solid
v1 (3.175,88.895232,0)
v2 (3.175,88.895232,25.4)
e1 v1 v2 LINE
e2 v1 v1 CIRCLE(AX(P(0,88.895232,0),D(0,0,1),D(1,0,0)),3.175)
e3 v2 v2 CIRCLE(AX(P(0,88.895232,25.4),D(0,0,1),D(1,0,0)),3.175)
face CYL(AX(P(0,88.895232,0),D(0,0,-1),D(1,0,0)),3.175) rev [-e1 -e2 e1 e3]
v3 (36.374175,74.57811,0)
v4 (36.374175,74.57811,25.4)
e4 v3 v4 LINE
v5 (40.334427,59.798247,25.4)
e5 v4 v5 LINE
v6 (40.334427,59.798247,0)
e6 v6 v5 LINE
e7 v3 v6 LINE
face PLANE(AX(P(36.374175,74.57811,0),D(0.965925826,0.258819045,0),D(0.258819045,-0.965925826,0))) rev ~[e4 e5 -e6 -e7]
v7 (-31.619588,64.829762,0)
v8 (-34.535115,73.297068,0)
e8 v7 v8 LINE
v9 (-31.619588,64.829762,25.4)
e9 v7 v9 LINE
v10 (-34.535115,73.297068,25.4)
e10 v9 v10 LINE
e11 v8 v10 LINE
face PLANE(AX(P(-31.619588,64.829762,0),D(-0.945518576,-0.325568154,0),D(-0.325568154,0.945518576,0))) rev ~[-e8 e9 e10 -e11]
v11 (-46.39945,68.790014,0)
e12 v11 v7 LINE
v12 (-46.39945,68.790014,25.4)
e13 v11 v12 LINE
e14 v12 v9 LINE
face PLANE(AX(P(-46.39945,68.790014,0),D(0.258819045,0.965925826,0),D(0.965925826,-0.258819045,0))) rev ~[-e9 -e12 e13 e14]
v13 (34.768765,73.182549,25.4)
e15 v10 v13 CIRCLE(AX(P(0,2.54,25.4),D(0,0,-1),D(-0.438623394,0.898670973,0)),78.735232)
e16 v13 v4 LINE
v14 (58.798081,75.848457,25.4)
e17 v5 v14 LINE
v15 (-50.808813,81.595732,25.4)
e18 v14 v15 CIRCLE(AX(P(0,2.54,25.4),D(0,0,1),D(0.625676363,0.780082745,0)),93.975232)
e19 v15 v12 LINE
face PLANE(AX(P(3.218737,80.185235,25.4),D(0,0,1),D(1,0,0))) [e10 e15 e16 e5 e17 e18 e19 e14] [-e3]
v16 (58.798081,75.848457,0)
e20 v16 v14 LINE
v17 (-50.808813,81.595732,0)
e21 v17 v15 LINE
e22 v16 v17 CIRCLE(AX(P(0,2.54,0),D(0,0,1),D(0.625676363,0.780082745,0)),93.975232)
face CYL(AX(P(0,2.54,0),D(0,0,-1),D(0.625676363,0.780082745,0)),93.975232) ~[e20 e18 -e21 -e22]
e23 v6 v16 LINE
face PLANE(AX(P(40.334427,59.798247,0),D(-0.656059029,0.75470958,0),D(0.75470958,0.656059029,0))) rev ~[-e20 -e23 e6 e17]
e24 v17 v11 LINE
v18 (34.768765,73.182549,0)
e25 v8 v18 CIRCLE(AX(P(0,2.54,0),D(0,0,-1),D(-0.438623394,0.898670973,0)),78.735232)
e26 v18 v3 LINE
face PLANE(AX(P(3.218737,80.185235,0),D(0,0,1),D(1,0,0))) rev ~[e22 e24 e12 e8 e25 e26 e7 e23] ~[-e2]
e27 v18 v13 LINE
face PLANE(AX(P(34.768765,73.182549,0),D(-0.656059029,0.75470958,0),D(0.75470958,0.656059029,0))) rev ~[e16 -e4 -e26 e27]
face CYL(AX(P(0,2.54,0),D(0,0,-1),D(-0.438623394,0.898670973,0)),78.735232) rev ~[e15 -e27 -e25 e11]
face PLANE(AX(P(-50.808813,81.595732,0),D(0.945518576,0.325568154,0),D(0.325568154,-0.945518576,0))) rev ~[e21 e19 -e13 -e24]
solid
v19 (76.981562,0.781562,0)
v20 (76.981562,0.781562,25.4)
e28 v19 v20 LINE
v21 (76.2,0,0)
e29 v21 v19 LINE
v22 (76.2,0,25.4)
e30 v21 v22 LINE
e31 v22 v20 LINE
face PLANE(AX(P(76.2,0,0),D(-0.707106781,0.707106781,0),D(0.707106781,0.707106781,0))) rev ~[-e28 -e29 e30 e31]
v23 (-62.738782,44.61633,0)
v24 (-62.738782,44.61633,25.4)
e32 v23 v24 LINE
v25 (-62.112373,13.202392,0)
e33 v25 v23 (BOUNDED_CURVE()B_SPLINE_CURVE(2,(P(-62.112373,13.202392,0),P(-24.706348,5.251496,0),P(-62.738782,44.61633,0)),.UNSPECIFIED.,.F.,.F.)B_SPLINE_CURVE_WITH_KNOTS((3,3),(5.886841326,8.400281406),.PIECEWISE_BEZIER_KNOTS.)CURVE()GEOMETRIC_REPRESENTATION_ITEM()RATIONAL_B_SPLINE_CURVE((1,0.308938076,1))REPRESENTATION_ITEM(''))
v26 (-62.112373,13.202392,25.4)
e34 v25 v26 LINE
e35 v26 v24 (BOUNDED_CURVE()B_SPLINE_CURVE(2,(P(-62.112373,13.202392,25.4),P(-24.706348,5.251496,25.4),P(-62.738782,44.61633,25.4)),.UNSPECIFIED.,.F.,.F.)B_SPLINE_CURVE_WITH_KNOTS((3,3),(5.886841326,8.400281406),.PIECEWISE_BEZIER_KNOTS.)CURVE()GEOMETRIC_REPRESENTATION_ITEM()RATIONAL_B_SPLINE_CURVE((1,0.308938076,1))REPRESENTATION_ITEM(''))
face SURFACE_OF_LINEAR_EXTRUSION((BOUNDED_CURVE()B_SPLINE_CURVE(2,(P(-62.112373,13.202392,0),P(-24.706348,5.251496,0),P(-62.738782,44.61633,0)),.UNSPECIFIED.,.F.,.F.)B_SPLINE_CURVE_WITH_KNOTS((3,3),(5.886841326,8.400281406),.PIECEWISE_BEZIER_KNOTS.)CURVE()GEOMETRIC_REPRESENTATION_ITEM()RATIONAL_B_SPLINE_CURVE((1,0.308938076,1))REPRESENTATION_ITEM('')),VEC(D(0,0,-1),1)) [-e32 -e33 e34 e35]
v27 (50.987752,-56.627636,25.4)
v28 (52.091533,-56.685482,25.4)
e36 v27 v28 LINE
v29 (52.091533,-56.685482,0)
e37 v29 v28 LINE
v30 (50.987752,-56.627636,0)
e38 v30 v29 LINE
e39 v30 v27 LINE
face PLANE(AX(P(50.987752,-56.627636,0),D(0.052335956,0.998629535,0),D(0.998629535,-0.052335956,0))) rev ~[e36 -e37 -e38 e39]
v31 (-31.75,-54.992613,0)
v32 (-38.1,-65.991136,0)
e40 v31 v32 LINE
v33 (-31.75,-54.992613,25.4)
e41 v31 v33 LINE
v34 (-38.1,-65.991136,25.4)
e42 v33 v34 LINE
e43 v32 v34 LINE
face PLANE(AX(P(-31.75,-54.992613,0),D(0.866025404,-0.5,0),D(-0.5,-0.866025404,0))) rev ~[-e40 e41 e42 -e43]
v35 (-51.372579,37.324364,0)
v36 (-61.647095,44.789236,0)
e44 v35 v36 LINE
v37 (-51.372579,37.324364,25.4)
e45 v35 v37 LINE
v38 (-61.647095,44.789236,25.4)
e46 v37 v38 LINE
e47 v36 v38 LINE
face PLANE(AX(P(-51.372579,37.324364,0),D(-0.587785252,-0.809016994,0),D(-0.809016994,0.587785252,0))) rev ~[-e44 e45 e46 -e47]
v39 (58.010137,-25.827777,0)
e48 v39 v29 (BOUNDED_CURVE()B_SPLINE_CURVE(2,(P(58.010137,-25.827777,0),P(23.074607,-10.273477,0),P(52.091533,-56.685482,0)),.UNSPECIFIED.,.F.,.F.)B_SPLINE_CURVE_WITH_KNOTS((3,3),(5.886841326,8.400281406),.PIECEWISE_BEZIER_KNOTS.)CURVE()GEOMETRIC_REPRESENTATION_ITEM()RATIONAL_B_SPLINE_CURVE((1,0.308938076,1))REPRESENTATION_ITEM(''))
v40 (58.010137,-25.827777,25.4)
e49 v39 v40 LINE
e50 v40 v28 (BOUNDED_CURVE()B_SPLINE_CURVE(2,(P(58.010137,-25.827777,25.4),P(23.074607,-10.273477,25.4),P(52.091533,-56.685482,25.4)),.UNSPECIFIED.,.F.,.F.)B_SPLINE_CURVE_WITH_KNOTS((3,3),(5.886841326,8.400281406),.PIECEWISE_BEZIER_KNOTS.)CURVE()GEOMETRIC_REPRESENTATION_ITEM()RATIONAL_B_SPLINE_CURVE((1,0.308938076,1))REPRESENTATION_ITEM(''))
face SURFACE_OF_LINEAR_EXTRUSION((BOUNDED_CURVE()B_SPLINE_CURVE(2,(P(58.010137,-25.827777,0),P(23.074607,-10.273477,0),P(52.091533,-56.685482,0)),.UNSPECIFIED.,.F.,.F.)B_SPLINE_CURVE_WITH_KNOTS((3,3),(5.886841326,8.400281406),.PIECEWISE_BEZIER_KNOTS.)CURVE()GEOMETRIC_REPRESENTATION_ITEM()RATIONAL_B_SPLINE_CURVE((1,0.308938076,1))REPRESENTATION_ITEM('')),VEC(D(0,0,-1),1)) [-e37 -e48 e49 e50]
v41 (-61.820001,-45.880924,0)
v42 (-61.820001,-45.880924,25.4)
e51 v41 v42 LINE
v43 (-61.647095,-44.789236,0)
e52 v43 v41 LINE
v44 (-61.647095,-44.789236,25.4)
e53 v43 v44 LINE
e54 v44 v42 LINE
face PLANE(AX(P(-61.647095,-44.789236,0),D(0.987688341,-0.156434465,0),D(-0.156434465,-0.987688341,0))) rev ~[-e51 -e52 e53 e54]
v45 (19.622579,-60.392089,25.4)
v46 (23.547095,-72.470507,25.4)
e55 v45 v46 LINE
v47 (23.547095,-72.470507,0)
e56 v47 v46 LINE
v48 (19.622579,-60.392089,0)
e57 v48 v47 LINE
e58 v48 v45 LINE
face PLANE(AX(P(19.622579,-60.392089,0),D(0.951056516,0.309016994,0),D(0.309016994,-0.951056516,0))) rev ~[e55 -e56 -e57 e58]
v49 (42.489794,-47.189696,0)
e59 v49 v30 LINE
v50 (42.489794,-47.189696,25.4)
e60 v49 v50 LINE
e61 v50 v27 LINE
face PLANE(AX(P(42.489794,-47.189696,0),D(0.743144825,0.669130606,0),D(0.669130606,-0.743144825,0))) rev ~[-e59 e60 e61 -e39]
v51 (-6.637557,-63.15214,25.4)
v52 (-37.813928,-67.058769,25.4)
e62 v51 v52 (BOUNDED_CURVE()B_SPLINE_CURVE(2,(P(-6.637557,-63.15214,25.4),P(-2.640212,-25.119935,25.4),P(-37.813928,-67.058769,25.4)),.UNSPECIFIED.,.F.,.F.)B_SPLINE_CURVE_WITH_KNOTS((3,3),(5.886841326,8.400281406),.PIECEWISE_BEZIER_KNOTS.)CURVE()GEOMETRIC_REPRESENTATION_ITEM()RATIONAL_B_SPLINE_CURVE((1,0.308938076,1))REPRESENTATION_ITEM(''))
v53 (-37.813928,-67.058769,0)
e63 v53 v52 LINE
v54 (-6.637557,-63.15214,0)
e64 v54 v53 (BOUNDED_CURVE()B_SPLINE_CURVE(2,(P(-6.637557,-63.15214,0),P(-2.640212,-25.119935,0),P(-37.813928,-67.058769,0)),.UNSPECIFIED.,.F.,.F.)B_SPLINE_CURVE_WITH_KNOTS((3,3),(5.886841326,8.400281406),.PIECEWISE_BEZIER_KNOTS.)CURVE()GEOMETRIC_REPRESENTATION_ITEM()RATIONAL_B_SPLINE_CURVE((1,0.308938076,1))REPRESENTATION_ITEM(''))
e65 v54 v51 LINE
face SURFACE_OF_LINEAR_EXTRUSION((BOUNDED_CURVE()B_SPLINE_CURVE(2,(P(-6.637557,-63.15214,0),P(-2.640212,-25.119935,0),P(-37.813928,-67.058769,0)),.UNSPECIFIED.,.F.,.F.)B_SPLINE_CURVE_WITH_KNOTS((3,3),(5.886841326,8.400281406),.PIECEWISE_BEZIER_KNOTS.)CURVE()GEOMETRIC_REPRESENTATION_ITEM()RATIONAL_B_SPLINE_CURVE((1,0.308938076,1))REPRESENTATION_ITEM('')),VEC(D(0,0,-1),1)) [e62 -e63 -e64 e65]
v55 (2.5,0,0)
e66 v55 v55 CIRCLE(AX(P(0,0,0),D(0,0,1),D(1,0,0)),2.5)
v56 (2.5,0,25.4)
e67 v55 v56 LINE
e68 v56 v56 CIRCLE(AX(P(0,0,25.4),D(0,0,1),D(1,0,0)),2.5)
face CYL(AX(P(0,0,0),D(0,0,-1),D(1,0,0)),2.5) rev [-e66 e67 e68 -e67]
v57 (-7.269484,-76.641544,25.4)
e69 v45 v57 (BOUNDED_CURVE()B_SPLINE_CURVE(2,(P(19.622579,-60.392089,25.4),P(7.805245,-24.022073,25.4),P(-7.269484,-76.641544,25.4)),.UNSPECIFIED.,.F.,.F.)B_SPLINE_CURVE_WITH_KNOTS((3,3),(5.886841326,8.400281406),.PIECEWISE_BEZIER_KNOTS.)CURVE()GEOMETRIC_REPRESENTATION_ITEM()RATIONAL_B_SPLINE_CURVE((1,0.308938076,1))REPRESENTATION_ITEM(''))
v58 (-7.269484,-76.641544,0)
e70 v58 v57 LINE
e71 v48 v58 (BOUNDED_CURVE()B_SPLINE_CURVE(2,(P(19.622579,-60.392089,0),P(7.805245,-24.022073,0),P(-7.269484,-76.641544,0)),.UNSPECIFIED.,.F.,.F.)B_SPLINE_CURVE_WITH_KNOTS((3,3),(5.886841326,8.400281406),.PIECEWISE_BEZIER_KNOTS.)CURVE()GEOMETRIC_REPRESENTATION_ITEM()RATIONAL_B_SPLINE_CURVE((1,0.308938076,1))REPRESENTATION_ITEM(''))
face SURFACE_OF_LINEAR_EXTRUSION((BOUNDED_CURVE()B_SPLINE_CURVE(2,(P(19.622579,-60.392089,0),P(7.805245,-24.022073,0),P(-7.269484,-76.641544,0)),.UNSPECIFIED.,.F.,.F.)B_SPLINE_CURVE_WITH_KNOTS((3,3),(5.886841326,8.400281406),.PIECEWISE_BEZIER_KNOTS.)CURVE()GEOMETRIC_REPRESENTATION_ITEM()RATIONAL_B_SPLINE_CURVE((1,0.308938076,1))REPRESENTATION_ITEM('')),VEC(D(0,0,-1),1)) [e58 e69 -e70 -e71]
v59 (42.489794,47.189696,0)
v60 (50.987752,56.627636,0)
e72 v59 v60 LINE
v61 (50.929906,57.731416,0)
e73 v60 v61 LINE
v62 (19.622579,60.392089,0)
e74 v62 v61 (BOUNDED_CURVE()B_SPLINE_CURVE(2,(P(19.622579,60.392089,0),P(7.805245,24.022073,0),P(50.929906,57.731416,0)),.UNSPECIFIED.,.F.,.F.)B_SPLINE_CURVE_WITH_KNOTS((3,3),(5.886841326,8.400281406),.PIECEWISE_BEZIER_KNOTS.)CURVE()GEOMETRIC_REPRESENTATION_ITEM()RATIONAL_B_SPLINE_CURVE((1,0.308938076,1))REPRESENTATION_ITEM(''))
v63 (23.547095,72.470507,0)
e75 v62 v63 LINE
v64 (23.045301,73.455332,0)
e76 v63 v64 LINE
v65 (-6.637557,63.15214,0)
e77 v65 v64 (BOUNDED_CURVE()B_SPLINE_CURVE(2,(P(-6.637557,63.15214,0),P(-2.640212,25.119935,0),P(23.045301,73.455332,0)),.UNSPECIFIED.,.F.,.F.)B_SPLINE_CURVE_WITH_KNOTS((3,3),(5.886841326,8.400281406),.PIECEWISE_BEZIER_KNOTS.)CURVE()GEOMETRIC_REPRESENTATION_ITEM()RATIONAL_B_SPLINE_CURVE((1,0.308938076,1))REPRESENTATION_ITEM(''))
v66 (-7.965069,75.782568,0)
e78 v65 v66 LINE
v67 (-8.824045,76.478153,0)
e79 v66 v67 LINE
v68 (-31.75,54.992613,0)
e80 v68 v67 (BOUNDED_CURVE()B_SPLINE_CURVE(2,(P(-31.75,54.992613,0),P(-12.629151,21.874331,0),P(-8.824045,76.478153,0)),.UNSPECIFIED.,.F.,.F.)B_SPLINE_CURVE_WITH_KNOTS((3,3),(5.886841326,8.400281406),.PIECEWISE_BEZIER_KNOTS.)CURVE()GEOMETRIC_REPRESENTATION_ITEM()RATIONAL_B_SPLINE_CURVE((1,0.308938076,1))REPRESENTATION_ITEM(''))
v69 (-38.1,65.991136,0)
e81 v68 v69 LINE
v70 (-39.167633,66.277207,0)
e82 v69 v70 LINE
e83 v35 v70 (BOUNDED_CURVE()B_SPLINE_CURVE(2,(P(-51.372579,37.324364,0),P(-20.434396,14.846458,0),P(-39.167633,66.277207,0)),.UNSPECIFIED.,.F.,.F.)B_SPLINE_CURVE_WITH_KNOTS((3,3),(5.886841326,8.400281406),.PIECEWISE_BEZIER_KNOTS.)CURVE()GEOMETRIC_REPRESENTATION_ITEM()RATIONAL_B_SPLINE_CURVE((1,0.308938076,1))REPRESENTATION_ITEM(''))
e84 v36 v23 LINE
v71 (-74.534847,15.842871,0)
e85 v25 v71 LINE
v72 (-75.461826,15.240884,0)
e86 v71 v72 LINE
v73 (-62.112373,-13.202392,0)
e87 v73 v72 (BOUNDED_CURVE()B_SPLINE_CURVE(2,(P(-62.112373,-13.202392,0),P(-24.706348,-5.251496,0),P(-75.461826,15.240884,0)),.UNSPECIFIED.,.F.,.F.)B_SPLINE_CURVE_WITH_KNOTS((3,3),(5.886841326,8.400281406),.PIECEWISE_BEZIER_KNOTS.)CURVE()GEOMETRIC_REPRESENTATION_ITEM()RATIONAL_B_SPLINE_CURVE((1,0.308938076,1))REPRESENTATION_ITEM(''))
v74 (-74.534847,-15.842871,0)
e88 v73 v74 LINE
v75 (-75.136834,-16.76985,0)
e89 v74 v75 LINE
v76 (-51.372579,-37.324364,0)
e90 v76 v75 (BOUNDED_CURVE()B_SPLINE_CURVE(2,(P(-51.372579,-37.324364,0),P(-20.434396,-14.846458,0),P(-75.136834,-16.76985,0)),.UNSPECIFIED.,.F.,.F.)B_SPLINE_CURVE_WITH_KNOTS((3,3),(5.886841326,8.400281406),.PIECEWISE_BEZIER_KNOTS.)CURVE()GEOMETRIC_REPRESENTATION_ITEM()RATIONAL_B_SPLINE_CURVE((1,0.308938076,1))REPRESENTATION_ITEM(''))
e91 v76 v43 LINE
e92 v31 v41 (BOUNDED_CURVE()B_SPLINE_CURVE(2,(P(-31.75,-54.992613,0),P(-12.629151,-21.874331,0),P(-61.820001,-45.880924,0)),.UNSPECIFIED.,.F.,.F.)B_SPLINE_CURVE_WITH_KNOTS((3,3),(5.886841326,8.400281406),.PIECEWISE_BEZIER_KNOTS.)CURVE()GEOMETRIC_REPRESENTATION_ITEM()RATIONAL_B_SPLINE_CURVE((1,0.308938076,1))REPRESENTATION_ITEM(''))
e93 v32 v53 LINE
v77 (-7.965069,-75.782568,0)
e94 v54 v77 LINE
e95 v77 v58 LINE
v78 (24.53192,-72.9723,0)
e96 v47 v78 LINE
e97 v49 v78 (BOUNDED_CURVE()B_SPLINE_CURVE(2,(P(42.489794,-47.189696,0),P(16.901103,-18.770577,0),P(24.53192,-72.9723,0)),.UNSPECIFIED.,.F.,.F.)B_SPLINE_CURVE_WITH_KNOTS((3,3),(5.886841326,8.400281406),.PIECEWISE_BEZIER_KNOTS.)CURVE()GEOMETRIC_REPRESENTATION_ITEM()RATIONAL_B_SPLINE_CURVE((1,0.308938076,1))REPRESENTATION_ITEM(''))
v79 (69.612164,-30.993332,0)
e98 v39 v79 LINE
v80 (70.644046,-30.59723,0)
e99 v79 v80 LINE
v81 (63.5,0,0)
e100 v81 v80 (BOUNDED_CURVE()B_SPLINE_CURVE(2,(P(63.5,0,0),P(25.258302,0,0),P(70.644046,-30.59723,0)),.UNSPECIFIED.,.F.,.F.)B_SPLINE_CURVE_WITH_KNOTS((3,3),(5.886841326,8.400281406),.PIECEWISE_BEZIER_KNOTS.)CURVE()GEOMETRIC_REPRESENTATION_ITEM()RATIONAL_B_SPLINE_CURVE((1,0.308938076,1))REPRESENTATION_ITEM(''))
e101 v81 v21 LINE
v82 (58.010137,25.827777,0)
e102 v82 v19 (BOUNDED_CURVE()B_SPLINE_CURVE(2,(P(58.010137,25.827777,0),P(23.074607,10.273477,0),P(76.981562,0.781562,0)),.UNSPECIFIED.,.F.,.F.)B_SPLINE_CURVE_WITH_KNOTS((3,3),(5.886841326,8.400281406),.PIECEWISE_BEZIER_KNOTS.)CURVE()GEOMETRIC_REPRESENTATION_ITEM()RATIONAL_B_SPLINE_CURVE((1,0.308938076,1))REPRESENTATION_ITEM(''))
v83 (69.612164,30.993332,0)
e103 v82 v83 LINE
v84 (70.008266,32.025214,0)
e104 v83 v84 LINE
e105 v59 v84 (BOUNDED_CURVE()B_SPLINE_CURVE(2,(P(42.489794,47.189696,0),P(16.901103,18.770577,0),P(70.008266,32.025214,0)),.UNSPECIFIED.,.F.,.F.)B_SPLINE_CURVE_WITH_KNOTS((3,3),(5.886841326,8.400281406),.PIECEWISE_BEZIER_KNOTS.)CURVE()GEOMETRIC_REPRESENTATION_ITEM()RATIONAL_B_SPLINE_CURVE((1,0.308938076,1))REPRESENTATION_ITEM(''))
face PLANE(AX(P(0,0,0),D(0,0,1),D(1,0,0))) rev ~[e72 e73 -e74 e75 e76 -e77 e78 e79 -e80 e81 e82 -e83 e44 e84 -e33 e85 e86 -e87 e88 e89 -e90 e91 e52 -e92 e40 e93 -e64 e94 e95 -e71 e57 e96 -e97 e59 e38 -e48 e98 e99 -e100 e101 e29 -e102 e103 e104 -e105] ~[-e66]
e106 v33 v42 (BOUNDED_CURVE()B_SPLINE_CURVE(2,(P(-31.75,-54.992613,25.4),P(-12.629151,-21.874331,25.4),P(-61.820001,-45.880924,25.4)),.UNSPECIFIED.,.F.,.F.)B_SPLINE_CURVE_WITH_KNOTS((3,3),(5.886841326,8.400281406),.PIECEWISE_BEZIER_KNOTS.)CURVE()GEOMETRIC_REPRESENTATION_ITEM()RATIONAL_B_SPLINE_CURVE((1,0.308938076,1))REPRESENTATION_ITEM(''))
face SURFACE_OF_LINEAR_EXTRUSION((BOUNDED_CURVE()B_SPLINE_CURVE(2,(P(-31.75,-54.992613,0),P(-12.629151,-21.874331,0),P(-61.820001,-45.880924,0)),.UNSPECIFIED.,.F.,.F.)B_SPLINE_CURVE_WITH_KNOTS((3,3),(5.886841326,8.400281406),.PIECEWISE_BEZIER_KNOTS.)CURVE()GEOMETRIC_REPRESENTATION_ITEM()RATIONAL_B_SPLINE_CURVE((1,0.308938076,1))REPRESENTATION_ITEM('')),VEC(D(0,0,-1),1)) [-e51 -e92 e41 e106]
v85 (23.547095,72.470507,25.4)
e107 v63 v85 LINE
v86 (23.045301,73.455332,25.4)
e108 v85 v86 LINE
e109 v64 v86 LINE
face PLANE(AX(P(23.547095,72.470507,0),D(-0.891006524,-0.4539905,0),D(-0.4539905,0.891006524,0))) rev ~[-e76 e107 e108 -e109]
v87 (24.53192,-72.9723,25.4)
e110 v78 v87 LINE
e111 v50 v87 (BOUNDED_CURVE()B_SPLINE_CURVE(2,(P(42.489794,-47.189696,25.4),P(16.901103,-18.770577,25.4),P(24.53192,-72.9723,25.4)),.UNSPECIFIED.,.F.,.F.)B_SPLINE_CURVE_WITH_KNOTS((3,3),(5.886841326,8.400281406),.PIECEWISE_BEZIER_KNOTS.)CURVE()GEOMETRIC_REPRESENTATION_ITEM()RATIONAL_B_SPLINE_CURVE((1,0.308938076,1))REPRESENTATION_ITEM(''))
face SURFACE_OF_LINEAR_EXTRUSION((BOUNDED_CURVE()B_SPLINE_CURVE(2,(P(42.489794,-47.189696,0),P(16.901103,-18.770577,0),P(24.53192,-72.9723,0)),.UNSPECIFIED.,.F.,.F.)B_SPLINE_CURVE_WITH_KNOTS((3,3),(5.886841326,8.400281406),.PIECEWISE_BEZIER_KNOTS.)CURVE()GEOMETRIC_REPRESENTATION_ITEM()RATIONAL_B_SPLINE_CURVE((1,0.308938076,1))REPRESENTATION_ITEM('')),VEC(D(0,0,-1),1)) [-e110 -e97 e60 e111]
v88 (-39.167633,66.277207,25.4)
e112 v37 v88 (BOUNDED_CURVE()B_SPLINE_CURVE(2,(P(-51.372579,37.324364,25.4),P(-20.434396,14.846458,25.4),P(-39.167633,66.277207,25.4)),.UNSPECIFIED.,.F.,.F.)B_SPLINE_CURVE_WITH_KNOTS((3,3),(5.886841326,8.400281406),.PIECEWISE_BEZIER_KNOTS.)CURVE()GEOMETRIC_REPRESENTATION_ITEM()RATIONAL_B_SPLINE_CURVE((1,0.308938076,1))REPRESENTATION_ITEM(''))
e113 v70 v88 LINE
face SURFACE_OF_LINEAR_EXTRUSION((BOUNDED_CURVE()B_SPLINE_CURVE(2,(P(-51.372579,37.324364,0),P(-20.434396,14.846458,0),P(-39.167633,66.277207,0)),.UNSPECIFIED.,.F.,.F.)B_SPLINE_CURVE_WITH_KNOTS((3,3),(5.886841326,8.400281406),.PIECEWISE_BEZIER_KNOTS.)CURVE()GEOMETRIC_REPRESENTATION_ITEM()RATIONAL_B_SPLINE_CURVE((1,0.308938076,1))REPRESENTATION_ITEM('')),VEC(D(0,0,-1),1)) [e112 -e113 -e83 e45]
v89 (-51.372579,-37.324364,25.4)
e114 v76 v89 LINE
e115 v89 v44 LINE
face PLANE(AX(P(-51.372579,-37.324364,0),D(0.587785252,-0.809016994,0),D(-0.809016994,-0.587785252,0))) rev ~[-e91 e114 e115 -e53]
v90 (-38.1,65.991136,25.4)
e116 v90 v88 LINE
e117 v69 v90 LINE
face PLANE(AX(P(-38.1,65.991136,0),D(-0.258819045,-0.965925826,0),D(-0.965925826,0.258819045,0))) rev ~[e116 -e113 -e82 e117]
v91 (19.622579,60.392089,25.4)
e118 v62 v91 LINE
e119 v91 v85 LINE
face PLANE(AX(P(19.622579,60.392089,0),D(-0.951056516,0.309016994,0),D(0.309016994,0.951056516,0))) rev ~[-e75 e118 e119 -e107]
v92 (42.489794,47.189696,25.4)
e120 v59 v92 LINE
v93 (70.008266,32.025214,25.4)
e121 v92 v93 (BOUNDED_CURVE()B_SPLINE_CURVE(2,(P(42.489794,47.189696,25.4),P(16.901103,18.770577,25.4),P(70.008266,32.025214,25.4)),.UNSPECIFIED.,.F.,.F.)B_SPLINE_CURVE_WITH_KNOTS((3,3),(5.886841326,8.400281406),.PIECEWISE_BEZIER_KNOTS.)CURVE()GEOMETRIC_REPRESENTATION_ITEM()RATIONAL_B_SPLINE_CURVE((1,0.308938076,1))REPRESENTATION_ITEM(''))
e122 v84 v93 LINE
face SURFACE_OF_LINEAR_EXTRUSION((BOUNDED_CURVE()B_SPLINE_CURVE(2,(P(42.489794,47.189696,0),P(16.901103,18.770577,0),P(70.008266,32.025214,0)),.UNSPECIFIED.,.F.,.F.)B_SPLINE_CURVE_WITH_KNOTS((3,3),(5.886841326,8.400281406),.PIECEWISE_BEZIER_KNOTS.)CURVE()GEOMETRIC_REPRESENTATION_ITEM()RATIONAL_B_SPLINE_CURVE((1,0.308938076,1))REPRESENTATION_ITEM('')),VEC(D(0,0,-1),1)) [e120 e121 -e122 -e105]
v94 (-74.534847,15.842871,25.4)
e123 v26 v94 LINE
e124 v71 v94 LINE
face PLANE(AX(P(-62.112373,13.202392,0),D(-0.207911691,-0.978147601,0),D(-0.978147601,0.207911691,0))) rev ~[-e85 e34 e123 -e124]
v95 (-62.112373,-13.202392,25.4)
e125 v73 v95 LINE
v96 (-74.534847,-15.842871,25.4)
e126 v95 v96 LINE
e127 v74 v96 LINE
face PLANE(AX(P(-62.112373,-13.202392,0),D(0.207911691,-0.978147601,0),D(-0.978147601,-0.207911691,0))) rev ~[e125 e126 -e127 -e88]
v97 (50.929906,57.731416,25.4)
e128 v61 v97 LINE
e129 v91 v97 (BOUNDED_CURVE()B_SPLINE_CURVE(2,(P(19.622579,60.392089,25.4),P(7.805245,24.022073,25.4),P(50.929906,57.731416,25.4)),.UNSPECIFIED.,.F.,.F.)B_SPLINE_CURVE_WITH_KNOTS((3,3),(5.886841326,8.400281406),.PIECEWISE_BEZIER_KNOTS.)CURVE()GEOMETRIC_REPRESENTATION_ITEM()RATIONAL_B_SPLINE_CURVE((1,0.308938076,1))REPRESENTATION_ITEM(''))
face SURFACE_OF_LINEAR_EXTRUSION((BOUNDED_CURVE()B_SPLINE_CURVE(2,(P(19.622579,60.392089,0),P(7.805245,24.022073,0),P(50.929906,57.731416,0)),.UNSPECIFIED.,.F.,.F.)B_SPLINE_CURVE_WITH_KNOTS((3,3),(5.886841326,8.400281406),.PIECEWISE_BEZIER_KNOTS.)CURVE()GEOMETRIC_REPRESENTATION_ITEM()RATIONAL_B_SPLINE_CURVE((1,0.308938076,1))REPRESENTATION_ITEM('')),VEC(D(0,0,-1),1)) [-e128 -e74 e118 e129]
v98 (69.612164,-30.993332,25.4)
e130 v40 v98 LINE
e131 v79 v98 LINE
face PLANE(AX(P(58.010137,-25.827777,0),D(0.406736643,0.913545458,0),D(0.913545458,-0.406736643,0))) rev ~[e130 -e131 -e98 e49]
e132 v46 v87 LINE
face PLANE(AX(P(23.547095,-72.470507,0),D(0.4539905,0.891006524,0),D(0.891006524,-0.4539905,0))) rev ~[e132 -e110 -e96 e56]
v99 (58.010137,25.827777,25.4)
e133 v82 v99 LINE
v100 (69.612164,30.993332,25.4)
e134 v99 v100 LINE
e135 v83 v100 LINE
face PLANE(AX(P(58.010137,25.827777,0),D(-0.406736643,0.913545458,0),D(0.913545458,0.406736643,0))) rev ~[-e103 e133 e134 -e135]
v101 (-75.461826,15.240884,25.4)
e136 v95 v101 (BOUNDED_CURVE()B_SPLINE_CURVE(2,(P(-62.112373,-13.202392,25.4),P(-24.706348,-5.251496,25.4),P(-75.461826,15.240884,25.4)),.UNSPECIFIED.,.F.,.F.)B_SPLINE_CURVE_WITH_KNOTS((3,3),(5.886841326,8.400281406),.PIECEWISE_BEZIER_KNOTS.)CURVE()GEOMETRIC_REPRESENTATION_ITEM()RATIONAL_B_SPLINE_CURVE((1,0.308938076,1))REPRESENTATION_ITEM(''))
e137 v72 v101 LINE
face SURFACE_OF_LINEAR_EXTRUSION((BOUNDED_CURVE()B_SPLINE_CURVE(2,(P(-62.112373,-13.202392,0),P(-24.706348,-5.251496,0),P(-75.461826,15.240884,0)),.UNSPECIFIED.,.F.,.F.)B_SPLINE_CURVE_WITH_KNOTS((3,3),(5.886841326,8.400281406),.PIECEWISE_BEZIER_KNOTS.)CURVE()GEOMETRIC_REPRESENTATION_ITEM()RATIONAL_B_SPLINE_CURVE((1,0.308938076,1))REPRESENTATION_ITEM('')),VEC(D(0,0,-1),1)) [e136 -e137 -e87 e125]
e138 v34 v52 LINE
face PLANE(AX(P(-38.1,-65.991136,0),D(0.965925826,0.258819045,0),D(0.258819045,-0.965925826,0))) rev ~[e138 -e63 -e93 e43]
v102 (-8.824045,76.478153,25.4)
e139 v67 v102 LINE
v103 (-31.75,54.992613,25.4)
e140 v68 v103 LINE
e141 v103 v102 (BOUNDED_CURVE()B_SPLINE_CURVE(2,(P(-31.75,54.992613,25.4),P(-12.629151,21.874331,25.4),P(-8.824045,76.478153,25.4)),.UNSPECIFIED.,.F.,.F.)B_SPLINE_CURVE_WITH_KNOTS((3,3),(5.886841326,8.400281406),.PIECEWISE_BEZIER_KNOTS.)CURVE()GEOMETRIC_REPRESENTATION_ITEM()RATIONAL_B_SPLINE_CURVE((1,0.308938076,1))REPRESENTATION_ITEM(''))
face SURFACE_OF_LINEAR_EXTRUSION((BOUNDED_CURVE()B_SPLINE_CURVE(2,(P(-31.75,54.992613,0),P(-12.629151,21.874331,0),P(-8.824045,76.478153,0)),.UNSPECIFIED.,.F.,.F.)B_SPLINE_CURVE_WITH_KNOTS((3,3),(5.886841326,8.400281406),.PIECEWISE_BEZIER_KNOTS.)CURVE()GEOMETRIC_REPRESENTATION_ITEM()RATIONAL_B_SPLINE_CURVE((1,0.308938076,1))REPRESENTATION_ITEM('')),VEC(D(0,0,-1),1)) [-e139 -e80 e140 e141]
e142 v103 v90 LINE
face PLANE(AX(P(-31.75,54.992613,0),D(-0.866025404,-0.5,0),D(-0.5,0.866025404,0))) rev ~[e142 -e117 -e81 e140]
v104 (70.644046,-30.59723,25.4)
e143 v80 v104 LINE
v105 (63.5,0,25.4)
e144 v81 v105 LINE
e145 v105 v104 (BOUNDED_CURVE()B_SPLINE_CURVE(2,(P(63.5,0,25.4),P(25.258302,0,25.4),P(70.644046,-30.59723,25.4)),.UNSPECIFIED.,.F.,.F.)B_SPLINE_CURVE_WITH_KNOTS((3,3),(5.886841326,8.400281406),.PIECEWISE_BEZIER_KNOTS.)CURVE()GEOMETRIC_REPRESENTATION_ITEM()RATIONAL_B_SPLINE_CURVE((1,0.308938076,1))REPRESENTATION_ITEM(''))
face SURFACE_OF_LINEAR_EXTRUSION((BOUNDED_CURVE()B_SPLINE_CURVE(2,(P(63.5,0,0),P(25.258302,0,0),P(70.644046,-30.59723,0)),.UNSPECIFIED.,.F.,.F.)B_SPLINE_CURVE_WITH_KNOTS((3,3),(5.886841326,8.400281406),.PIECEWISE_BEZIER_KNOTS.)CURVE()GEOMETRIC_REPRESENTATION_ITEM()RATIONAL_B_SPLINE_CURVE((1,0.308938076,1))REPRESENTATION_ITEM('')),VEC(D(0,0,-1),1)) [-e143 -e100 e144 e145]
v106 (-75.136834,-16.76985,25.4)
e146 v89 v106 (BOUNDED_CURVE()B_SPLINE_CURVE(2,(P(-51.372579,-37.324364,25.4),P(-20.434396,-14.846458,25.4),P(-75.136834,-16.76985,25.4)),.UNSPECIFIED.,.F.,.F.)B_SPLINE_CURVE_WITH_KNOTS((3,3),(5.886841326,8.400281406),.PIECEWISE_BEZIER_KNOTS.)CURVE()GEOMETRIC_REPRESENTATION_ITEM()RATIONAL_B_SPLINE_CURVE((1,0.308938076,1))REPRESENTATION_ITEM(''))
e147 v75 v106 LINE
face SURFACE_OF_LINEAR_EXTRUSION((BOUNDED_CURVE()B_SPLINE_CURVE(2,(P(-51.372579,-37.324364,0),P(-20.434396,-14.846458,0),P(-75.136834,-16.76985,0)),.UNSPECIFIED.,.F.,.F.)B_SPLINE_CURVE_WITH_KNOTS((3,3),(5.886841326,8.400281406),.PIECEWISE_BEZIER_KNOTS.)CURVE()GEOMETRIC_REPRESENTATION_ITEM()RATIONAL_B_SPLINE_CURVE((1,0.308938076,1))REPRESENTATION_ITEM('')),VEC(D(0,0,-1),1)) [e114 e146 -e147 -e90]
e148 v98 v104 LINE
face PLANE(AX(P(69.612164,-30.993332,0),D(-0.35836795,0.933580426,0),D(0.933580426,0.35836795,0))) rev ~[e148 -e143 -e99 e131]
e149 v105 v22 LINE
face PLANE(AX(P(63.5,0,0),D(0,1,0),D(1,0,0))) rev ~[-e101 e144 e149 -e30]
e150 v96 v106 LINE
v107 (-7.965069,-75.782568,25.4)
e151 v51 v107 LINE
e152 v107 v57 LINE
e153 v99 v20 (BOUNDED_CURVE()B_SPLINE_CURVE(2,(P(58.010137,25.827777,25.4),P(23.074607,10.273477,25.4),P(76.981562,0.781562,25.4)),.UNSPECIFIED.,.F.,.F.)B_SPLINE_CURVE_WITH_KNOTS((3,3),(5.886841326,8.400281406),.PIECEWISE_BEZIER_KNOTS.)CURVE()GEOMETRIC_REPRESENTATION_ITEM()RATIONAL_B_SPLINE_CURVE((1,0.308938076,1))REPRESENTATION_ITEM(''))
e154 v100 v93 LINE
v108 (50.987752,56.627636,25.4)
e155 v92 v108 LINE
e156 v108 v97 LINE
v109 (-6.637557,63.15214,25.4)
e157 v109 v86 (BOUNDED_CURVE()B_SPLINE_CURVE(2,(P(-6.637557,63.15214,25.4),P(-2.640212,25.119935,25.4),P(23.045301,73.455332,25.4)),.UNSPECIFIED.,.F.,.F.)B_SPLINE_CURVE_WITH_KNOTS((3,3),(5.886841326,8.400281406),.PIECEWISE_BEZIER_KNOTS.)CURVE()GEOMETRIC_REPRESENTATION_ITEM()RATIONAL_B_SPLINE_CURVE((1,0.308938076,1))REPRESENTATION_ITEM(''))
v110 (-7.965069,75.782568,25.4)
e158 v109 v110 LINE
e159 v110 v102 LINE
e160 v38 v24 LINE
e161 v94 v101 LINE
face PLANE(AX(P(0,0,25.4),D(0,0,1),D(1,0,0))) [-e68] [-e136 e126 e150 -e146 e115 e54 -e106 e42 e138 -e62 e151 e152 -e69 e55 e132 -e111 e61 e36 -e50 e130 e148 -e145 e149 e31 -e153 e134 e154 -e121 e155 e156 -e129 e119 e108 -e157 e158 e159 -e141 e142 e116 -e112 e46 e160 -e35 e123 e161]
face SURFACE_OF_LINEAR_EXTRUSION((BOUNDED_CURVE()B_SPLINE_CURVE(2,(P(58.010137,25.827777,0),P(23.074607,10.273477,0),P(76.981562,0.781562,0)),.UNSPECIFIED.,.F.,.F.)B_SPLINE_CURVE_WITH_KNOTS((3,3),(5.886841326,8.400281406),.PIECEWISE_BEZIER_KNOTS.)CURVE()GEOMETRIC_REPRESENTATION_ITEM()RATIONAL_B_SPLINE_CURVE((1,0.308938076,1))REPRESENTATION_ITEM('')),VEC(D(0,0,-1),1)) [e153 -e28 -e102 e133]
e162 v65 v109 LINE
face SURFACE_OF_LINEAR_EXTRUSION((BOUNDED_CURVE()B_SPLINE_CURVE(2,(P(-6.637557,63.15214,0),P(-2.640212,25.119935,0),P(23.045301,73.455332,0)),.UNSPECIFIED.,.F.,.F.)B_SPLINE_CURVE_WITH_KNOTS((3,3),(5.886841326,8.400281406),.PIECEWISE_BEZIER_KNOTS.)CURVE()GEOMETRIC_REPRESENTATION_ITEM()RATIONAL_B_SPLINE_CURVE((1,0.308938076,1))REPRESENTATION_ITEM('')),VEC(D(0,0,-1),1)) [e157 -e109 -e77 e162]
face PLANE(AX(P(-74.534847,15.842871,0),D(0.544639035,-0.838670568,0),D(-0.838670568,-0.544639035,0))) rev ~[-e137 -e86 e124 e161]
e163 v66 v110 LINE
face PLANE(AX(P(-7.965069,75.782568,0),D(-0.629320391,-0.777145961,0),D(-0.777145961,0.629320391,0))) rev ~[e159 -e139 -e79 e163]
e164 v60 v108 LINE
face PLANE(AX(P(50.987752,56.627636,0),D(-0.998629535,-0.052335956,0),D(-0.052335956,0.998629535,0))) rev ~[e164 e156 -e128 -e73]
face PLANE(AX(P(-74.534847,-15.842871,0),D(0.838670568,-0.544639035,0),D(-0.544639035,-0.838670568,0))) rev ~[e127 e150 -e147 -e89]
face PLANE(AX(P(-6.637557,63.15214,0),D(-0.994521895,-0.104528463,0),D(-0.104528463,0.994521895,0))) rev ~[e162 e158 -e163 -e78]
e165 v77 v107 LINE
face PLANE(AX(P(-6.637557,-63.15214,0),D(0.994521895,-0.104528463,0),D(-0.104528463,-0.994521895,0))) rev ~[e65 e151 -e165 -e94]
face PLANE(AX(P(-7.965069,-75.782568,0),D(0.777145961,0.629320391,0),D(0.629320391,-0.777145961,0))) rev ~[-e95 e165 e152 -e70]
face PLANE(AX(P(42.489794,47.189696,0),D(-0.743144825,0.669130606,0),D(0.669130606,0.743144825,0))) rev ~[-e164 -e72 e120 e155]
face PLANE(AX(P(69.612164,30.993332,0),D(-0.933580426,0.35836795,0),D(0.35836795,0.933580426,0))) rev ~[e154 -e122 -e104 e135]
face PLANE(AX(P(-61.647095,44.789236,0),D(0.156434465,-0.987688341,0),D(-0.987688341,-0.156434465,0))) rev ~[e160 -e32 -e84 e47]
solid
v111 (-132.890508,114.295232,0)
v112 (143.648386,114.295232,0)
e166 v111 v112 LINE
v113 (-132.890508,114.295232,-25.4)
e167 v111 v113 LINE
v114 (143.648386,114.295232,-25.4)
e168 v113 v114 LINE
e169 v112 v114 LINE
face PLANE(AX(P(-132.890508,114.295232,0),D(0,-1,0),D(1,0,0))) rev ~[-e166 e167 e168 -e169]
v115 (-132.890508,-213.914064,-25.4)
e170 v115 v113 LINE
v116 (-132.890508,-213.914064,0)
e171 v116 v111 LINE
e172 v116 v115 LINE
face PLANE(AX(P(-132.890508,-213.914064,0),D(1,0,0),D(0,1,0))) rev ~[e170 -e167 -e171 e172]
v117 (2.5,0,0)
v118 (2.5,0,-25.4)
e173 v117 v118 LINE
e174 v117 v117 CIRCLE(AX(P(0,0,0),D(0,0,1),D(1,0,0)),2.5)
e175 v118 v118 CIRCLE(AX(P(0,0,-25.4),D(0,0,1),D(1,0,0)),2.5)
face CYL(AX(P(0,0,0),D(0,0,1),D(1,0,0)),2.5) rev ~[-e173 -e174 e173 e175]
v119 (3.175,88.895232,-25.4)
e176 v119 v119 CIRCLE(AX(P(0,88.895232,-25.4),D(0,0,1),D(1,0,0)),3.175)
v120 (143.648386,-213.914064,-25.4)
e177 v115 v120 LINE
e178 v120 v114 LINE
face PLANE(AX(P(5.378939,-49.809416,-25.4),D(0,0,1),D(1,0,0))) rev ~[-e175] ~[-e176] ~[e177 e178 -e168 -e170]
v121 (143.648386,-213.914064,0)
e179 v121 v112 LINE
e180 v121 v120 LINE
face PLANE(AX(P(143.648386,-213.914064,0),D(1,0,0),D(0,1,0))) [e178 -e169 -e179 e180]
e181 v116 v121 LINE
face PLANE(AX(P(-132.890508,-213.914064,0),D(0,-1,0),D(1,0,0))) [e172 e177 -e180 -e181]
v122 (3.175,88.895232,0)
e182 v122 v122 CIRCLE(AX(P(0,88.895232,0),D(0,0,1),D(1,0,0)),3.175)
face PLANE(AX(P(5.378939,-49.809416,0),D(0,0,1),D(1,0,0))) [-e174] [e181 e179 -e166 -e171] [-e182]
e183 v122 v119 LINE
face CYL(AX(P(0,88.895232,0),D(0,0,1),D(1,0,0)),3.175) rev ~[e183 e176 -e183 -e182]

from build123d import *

# Parameters (mm, degrees)
F0_R     = 2.5
F1_DEPTH = 25.4
F2_R     = 3.175
F3_DEPTH = 25.4
F4_W     = 276.5388935804
F4_H     = 328.2092958689
F4_R     = 2.5
F4_R_2   = 3.175
F5_DEPTH = 25.4


with BuildPart() as f1:
    # F0 (on Top) → F1 (new body)
    with BuildSketch(Plane.XY):
        with BuildLine():
            Line((-31.75, 54.9926131403), (-38.1, 65.9911357684))
            Line((-38.1, 65.9911357684), (-39.1676334379, 66.2772072859))
            add(Edge.make_bspline(
                [(-51.3725791428, 37.3243635206), (-20.4343957802, 14.8464575684), (-39.1676334379, 66.2772072859)],
                knots=[5.8868413258, 5.8868413258, 5.8868413258, 8.4002814063, 8.4002814063, 8.4002814063], degree=2, weights=[1, 0.3089380758, 1]))
            Line((-51.3725791428, 37.3243635206), (-61.6470949714, 44.7892362247))
            Line((-61.6470949714, 44.7892362247), (-62.7387824177, 44.6163299195))
            add(Edge.make_bspline(
                [(-62.1123726466, 13.2023923669), (-24.7063477576, 5.2514963308), (-62.7387824177, 44.6163299195)],
                knots=[5.8868413258, 5.8868413258, 5.8868413258, 8.4002814063, 8.4002814063, 8.4002814063], degree=2, weights=[1, 0.3089380758, 1]))
            Line((-62.1123726466, 13.2023923669), (-74.5348471759, 15.8428708403))
            Line((-74.5348471759, 15.8428708403), (-75.4618259535, 15.2408837834))
            add(Edge.make_bspline(
                [(-62.1123726466, -13.2023923669), (-24.7063477576, -5.2514963308), (-75.4618259535, 15.2408837834)],
                knots=[5.8868413258, 5.8868413258, 5.8868413258, 8.4002814063, 8.4002814063, 8.4002814063], degree=2, weights=[1, 0.3089380758, 1]))
            Line((-62.1123726466, -13.2023923669), (-74.5348471759, -15.8428708403))
            Line((-74.5348471759, -15.8428708403), (-75.1368342328, -16.7698496179))
            add(Edge.make_bspline(
                [(-51.3725791428, -37.3243635206), (-20.4343957802, -14.8464575684), (-75.1368342328, -16.7698496179)],
                knots=[5.8868413258, 5.8868413258, 5.8868413258, 8.4002814063, 8.4002814063, 8.4002814063], degree=2, weights=[1, 0.3089380758, 1]))
            Line((-51.3725791428, -37.3243635206), (-61.6470949714, -44.7892362247))
            Line((-61.6470949714, -44.7892362247), (-61.8200012766, -45.880923671))
            add(Edge.make_bspline(
                [(-31.75, -54.9926131403), (-12.6291511317, -21.8743314166), (-61.8200012766, -45.880923671)],
                knots=[5.8868413258, 5.8868413258, 5.8868413258, 8.4002814063, 8.4002814063, 8.4002814063], degree=2, weights=[1, 0.3089380758, 1]))
            Line((-31.75, -54.9926131403), (-38.1, -65.9911357684))
            Line((-38.1, -65.9911357684), (-37.8139284825, -67.0587692063))
            add(Edge.make_bspline(
                [(-6.6375574175, -63.1521403559), (-2.6402115203, -25.1199346408), (-37.8139284825, -67.0587692063)],
                knots=[5.8868413258, 5.8868413258, 5.8868413258, 8.4002814063, 8.4002814063, 8.4002814063], degree=2, weights=[1, 0.3089380758, 1]))
            Line((-6.6375574175, -63.1521403559), (-7.965068901, -75.7825684271))
            Line((-7.965068901, -75.7825684271), (-7.269483925, -76.641544336))
            add(Edge.make_bspline(
                [(19.6225791428, -60.3920887847), (7.8052446485, -24.0220729582), (-7.269483925, -76.641544336)],
                knots=[5.8868413258, 5.8868413258, 5.8868413258, 8.4002814063, 8.4002814063, 8.4002814063], degree=2, weights=[1, 0.3089380758, 1]))
            Line((19.6225791428, -60.3920887847), (23.5470949714, -72.4705065417))
            Line((23.5470949714, -72.4705065417), (24.5319204442, -72.9723001834))
            add(Edge.make_bspline(
                [(42.4897935038, -47.1896964178), (16.9011031091, -18.7705766274), (24.5319204442, -72.9723001834)],
                knots=[5.8868413258, 5.8868413258, 5.8868413258, 8.4002814063, 8.4002814063, 8.4002814063], degree=2, weights=[1, 0.3089380758, 1]))
            Line((42.4897935038, -47.1896964178), (50.9877522045, -56.6276357014))
            Line((50.9877522045, -56.6276357014), (52.0915329032, -56.6854823966))
            add(Edge.make_bspline(
                [(58.0101365603, -25.8277768353), (23.0746073005, -10.2734770724), (52.0915329032, -56.6854823966)],
                knots=[5.8868413258, 5.8868413258, 5.8868413258, 8.4002814063, 8.4002814063, 8.4002814063], degree=2, weights=[1, 0.3089380758, 1]))
            Line((58.0101365603, -25.8277768353), (69.6121638724, -30.9933322024))
            Line((69.6121638724, -30.9933322024), (70.6440460865, -30.597229732))
            add(Edge.make_bspline(
                [(63.5, 0), (25.2583022634, 0), (70.6440460865, -30.597229732)],
                knots=[5.8868413258, 5.8868413258, 5.8868413258, 8.4002814063, 8.4002814063, 8.4002814063], degree=2, weights=[1, 0.3089380758, 1]))
            Line((63.5, 0), (76.2, 0))
            Line((76.2, 0), (76.9815619204, 0.7815619204))
            add(Edge.make_bspline(
                [(58.0101365603, 25.8277768353), (23.0746073005, 10.2734770724), (76.9815619204, 0.7815619204)],
                knots=[5.8868413258, 5.8868413258, 5.8868413258, 8.4002814063, 8.4002814063, 8.4002814063], degree=2, weights=[1, 0.3089380758, 1]))
            Line((58.0101365603, 25.8277768353), (69.6121638724, 30.9933322024))
            Line((69.6121638724, 30.9933322024), (70.0082663428, 32.0252144165))
            add(Edge.make_bspline(
                [(42.4897935038, 47.1896964178), (16.9011031091, 18.7705766274), (70.0082663428, 32.0252144165)],
                knots=[5.8868413258, 5.8868413258, 5.8868413258, 8.4002814063, 8.4002814063, 8.4002814063], degree=2, weights=[1, 0.3089380758, 1]))
            Line((42.4897935038, 47.1896964178), (50.9877522045, 56.6276357014))
            Line((50.9877522045, 56.6276357014), (50.9299055093, 57.7314164))
            add(Edge.make_bspline(
                [(19.6225791428, 60.3920887847), (7.8052446485, 24.0220729582), (50.9299055093, 57.7314164)],
                knots=[5.8868413258, 5.8868413258, 5.8868413258, 8.4002814063, 8.4002814063, 8.4002814063], degree=2, weights=[1, 0.3089380758, 1]))
            Line((19.6225791428, 60.3920887847), (23.5470949714, 72.4705065417))
            Line((23.5470949714, 72.4705065417), (23.0453013296, 73.4553320146))
            add(Edge.make_bspline(
                [(-6.6375574175, 63.1521403559), (-2.6402115203, 25.1199346408), (23.0453013296, 73.4553320146)],
                knots=[5.8868413258, 5.8868413258, 5.8868413258, 8.4002814063, 8.4002814063, 8.4002814063], degree=2, weights=[1, 0.3089380758, 1]))
            Line((-6.6375574175, 63.1521403559), (-7.965068901, 75.7825684271))
            Line((-7.965068901, 75.7825684271), (-8.8240448099, 76.478153403))
            add(Edge.make_bspline(
                [(-31.75, 54.9926131403), (-12.6291511317, 21.8743314166), (-8.8240448099, 76.478153403)],
                knots=[5.8868413258, 5.8868413258, 5.8868413258, 8.4002814063, 8.4002814063, 8.4002814063], degree=2, weights=[1, 0.3089380758, 1]))
        make_face()
        Circle(F0_R, mode=Mode.SUBTRACT)
    extrude(amount=F1_DEPTH)


with BuildPart() as f3:
    # F2 (on Top) → F3 (new body)
    with BuildSketch(Plane.XY):
        with BuildLine():
            Line((-50.8088127398, 81.5957321908), (-46.3994504025, 68.7900141272))
            Line((-46.3994504025, 68.7900141272), (-31.6195875436, 64.8297618099))
            Line((-31.6195875436, 64.8297618099), (-34.5351147482, 73.2970676315))
            ThreePointArc((-34.5351147482, 73.2970676315), (0.1301029976, 81.2751245868), (34.7687654101, 73.1825489513))
            Line((34.7687654101, 73.1825489513), (36.3741745596, 74.5781098338))
            Line((36.3741745596, 74.5781098338), (40.3344268768, 59.7982469749))
            Line((40.3344268768, 59.7982469749), (58.7980814107, 75.8484569928))
            ThreePointArc((58.7980814107, 75.8484569928), (4.9208633921, 96.3863070542), (-50.8088127398, 81.5957321908))
        make_face()
        with Locations((0, 88.8952320787)):
            Circle(F2_R, mode=Mode.SUBTRACT)
    extrude(amount=F3_DEPTH)


with BuildPart() as f5:
    # F4 (on Top) → F5 (new body)
    with BuildSketch(Plane.XY):
        with Locations((5.3789392114, -49.8094158558)):
            Rectangle(F4_W, F4_H)
        Circle(F4_R, mode=Mode.SUBTRACT)
        with Locations((0, 88.8952320787)):
            Circle(F4_R_2, mode=Mode.SUBTRACT)
    extrude(amount=-F5_DEPTH)


solid = Compound([f1.part, f3.part, f5.part])
